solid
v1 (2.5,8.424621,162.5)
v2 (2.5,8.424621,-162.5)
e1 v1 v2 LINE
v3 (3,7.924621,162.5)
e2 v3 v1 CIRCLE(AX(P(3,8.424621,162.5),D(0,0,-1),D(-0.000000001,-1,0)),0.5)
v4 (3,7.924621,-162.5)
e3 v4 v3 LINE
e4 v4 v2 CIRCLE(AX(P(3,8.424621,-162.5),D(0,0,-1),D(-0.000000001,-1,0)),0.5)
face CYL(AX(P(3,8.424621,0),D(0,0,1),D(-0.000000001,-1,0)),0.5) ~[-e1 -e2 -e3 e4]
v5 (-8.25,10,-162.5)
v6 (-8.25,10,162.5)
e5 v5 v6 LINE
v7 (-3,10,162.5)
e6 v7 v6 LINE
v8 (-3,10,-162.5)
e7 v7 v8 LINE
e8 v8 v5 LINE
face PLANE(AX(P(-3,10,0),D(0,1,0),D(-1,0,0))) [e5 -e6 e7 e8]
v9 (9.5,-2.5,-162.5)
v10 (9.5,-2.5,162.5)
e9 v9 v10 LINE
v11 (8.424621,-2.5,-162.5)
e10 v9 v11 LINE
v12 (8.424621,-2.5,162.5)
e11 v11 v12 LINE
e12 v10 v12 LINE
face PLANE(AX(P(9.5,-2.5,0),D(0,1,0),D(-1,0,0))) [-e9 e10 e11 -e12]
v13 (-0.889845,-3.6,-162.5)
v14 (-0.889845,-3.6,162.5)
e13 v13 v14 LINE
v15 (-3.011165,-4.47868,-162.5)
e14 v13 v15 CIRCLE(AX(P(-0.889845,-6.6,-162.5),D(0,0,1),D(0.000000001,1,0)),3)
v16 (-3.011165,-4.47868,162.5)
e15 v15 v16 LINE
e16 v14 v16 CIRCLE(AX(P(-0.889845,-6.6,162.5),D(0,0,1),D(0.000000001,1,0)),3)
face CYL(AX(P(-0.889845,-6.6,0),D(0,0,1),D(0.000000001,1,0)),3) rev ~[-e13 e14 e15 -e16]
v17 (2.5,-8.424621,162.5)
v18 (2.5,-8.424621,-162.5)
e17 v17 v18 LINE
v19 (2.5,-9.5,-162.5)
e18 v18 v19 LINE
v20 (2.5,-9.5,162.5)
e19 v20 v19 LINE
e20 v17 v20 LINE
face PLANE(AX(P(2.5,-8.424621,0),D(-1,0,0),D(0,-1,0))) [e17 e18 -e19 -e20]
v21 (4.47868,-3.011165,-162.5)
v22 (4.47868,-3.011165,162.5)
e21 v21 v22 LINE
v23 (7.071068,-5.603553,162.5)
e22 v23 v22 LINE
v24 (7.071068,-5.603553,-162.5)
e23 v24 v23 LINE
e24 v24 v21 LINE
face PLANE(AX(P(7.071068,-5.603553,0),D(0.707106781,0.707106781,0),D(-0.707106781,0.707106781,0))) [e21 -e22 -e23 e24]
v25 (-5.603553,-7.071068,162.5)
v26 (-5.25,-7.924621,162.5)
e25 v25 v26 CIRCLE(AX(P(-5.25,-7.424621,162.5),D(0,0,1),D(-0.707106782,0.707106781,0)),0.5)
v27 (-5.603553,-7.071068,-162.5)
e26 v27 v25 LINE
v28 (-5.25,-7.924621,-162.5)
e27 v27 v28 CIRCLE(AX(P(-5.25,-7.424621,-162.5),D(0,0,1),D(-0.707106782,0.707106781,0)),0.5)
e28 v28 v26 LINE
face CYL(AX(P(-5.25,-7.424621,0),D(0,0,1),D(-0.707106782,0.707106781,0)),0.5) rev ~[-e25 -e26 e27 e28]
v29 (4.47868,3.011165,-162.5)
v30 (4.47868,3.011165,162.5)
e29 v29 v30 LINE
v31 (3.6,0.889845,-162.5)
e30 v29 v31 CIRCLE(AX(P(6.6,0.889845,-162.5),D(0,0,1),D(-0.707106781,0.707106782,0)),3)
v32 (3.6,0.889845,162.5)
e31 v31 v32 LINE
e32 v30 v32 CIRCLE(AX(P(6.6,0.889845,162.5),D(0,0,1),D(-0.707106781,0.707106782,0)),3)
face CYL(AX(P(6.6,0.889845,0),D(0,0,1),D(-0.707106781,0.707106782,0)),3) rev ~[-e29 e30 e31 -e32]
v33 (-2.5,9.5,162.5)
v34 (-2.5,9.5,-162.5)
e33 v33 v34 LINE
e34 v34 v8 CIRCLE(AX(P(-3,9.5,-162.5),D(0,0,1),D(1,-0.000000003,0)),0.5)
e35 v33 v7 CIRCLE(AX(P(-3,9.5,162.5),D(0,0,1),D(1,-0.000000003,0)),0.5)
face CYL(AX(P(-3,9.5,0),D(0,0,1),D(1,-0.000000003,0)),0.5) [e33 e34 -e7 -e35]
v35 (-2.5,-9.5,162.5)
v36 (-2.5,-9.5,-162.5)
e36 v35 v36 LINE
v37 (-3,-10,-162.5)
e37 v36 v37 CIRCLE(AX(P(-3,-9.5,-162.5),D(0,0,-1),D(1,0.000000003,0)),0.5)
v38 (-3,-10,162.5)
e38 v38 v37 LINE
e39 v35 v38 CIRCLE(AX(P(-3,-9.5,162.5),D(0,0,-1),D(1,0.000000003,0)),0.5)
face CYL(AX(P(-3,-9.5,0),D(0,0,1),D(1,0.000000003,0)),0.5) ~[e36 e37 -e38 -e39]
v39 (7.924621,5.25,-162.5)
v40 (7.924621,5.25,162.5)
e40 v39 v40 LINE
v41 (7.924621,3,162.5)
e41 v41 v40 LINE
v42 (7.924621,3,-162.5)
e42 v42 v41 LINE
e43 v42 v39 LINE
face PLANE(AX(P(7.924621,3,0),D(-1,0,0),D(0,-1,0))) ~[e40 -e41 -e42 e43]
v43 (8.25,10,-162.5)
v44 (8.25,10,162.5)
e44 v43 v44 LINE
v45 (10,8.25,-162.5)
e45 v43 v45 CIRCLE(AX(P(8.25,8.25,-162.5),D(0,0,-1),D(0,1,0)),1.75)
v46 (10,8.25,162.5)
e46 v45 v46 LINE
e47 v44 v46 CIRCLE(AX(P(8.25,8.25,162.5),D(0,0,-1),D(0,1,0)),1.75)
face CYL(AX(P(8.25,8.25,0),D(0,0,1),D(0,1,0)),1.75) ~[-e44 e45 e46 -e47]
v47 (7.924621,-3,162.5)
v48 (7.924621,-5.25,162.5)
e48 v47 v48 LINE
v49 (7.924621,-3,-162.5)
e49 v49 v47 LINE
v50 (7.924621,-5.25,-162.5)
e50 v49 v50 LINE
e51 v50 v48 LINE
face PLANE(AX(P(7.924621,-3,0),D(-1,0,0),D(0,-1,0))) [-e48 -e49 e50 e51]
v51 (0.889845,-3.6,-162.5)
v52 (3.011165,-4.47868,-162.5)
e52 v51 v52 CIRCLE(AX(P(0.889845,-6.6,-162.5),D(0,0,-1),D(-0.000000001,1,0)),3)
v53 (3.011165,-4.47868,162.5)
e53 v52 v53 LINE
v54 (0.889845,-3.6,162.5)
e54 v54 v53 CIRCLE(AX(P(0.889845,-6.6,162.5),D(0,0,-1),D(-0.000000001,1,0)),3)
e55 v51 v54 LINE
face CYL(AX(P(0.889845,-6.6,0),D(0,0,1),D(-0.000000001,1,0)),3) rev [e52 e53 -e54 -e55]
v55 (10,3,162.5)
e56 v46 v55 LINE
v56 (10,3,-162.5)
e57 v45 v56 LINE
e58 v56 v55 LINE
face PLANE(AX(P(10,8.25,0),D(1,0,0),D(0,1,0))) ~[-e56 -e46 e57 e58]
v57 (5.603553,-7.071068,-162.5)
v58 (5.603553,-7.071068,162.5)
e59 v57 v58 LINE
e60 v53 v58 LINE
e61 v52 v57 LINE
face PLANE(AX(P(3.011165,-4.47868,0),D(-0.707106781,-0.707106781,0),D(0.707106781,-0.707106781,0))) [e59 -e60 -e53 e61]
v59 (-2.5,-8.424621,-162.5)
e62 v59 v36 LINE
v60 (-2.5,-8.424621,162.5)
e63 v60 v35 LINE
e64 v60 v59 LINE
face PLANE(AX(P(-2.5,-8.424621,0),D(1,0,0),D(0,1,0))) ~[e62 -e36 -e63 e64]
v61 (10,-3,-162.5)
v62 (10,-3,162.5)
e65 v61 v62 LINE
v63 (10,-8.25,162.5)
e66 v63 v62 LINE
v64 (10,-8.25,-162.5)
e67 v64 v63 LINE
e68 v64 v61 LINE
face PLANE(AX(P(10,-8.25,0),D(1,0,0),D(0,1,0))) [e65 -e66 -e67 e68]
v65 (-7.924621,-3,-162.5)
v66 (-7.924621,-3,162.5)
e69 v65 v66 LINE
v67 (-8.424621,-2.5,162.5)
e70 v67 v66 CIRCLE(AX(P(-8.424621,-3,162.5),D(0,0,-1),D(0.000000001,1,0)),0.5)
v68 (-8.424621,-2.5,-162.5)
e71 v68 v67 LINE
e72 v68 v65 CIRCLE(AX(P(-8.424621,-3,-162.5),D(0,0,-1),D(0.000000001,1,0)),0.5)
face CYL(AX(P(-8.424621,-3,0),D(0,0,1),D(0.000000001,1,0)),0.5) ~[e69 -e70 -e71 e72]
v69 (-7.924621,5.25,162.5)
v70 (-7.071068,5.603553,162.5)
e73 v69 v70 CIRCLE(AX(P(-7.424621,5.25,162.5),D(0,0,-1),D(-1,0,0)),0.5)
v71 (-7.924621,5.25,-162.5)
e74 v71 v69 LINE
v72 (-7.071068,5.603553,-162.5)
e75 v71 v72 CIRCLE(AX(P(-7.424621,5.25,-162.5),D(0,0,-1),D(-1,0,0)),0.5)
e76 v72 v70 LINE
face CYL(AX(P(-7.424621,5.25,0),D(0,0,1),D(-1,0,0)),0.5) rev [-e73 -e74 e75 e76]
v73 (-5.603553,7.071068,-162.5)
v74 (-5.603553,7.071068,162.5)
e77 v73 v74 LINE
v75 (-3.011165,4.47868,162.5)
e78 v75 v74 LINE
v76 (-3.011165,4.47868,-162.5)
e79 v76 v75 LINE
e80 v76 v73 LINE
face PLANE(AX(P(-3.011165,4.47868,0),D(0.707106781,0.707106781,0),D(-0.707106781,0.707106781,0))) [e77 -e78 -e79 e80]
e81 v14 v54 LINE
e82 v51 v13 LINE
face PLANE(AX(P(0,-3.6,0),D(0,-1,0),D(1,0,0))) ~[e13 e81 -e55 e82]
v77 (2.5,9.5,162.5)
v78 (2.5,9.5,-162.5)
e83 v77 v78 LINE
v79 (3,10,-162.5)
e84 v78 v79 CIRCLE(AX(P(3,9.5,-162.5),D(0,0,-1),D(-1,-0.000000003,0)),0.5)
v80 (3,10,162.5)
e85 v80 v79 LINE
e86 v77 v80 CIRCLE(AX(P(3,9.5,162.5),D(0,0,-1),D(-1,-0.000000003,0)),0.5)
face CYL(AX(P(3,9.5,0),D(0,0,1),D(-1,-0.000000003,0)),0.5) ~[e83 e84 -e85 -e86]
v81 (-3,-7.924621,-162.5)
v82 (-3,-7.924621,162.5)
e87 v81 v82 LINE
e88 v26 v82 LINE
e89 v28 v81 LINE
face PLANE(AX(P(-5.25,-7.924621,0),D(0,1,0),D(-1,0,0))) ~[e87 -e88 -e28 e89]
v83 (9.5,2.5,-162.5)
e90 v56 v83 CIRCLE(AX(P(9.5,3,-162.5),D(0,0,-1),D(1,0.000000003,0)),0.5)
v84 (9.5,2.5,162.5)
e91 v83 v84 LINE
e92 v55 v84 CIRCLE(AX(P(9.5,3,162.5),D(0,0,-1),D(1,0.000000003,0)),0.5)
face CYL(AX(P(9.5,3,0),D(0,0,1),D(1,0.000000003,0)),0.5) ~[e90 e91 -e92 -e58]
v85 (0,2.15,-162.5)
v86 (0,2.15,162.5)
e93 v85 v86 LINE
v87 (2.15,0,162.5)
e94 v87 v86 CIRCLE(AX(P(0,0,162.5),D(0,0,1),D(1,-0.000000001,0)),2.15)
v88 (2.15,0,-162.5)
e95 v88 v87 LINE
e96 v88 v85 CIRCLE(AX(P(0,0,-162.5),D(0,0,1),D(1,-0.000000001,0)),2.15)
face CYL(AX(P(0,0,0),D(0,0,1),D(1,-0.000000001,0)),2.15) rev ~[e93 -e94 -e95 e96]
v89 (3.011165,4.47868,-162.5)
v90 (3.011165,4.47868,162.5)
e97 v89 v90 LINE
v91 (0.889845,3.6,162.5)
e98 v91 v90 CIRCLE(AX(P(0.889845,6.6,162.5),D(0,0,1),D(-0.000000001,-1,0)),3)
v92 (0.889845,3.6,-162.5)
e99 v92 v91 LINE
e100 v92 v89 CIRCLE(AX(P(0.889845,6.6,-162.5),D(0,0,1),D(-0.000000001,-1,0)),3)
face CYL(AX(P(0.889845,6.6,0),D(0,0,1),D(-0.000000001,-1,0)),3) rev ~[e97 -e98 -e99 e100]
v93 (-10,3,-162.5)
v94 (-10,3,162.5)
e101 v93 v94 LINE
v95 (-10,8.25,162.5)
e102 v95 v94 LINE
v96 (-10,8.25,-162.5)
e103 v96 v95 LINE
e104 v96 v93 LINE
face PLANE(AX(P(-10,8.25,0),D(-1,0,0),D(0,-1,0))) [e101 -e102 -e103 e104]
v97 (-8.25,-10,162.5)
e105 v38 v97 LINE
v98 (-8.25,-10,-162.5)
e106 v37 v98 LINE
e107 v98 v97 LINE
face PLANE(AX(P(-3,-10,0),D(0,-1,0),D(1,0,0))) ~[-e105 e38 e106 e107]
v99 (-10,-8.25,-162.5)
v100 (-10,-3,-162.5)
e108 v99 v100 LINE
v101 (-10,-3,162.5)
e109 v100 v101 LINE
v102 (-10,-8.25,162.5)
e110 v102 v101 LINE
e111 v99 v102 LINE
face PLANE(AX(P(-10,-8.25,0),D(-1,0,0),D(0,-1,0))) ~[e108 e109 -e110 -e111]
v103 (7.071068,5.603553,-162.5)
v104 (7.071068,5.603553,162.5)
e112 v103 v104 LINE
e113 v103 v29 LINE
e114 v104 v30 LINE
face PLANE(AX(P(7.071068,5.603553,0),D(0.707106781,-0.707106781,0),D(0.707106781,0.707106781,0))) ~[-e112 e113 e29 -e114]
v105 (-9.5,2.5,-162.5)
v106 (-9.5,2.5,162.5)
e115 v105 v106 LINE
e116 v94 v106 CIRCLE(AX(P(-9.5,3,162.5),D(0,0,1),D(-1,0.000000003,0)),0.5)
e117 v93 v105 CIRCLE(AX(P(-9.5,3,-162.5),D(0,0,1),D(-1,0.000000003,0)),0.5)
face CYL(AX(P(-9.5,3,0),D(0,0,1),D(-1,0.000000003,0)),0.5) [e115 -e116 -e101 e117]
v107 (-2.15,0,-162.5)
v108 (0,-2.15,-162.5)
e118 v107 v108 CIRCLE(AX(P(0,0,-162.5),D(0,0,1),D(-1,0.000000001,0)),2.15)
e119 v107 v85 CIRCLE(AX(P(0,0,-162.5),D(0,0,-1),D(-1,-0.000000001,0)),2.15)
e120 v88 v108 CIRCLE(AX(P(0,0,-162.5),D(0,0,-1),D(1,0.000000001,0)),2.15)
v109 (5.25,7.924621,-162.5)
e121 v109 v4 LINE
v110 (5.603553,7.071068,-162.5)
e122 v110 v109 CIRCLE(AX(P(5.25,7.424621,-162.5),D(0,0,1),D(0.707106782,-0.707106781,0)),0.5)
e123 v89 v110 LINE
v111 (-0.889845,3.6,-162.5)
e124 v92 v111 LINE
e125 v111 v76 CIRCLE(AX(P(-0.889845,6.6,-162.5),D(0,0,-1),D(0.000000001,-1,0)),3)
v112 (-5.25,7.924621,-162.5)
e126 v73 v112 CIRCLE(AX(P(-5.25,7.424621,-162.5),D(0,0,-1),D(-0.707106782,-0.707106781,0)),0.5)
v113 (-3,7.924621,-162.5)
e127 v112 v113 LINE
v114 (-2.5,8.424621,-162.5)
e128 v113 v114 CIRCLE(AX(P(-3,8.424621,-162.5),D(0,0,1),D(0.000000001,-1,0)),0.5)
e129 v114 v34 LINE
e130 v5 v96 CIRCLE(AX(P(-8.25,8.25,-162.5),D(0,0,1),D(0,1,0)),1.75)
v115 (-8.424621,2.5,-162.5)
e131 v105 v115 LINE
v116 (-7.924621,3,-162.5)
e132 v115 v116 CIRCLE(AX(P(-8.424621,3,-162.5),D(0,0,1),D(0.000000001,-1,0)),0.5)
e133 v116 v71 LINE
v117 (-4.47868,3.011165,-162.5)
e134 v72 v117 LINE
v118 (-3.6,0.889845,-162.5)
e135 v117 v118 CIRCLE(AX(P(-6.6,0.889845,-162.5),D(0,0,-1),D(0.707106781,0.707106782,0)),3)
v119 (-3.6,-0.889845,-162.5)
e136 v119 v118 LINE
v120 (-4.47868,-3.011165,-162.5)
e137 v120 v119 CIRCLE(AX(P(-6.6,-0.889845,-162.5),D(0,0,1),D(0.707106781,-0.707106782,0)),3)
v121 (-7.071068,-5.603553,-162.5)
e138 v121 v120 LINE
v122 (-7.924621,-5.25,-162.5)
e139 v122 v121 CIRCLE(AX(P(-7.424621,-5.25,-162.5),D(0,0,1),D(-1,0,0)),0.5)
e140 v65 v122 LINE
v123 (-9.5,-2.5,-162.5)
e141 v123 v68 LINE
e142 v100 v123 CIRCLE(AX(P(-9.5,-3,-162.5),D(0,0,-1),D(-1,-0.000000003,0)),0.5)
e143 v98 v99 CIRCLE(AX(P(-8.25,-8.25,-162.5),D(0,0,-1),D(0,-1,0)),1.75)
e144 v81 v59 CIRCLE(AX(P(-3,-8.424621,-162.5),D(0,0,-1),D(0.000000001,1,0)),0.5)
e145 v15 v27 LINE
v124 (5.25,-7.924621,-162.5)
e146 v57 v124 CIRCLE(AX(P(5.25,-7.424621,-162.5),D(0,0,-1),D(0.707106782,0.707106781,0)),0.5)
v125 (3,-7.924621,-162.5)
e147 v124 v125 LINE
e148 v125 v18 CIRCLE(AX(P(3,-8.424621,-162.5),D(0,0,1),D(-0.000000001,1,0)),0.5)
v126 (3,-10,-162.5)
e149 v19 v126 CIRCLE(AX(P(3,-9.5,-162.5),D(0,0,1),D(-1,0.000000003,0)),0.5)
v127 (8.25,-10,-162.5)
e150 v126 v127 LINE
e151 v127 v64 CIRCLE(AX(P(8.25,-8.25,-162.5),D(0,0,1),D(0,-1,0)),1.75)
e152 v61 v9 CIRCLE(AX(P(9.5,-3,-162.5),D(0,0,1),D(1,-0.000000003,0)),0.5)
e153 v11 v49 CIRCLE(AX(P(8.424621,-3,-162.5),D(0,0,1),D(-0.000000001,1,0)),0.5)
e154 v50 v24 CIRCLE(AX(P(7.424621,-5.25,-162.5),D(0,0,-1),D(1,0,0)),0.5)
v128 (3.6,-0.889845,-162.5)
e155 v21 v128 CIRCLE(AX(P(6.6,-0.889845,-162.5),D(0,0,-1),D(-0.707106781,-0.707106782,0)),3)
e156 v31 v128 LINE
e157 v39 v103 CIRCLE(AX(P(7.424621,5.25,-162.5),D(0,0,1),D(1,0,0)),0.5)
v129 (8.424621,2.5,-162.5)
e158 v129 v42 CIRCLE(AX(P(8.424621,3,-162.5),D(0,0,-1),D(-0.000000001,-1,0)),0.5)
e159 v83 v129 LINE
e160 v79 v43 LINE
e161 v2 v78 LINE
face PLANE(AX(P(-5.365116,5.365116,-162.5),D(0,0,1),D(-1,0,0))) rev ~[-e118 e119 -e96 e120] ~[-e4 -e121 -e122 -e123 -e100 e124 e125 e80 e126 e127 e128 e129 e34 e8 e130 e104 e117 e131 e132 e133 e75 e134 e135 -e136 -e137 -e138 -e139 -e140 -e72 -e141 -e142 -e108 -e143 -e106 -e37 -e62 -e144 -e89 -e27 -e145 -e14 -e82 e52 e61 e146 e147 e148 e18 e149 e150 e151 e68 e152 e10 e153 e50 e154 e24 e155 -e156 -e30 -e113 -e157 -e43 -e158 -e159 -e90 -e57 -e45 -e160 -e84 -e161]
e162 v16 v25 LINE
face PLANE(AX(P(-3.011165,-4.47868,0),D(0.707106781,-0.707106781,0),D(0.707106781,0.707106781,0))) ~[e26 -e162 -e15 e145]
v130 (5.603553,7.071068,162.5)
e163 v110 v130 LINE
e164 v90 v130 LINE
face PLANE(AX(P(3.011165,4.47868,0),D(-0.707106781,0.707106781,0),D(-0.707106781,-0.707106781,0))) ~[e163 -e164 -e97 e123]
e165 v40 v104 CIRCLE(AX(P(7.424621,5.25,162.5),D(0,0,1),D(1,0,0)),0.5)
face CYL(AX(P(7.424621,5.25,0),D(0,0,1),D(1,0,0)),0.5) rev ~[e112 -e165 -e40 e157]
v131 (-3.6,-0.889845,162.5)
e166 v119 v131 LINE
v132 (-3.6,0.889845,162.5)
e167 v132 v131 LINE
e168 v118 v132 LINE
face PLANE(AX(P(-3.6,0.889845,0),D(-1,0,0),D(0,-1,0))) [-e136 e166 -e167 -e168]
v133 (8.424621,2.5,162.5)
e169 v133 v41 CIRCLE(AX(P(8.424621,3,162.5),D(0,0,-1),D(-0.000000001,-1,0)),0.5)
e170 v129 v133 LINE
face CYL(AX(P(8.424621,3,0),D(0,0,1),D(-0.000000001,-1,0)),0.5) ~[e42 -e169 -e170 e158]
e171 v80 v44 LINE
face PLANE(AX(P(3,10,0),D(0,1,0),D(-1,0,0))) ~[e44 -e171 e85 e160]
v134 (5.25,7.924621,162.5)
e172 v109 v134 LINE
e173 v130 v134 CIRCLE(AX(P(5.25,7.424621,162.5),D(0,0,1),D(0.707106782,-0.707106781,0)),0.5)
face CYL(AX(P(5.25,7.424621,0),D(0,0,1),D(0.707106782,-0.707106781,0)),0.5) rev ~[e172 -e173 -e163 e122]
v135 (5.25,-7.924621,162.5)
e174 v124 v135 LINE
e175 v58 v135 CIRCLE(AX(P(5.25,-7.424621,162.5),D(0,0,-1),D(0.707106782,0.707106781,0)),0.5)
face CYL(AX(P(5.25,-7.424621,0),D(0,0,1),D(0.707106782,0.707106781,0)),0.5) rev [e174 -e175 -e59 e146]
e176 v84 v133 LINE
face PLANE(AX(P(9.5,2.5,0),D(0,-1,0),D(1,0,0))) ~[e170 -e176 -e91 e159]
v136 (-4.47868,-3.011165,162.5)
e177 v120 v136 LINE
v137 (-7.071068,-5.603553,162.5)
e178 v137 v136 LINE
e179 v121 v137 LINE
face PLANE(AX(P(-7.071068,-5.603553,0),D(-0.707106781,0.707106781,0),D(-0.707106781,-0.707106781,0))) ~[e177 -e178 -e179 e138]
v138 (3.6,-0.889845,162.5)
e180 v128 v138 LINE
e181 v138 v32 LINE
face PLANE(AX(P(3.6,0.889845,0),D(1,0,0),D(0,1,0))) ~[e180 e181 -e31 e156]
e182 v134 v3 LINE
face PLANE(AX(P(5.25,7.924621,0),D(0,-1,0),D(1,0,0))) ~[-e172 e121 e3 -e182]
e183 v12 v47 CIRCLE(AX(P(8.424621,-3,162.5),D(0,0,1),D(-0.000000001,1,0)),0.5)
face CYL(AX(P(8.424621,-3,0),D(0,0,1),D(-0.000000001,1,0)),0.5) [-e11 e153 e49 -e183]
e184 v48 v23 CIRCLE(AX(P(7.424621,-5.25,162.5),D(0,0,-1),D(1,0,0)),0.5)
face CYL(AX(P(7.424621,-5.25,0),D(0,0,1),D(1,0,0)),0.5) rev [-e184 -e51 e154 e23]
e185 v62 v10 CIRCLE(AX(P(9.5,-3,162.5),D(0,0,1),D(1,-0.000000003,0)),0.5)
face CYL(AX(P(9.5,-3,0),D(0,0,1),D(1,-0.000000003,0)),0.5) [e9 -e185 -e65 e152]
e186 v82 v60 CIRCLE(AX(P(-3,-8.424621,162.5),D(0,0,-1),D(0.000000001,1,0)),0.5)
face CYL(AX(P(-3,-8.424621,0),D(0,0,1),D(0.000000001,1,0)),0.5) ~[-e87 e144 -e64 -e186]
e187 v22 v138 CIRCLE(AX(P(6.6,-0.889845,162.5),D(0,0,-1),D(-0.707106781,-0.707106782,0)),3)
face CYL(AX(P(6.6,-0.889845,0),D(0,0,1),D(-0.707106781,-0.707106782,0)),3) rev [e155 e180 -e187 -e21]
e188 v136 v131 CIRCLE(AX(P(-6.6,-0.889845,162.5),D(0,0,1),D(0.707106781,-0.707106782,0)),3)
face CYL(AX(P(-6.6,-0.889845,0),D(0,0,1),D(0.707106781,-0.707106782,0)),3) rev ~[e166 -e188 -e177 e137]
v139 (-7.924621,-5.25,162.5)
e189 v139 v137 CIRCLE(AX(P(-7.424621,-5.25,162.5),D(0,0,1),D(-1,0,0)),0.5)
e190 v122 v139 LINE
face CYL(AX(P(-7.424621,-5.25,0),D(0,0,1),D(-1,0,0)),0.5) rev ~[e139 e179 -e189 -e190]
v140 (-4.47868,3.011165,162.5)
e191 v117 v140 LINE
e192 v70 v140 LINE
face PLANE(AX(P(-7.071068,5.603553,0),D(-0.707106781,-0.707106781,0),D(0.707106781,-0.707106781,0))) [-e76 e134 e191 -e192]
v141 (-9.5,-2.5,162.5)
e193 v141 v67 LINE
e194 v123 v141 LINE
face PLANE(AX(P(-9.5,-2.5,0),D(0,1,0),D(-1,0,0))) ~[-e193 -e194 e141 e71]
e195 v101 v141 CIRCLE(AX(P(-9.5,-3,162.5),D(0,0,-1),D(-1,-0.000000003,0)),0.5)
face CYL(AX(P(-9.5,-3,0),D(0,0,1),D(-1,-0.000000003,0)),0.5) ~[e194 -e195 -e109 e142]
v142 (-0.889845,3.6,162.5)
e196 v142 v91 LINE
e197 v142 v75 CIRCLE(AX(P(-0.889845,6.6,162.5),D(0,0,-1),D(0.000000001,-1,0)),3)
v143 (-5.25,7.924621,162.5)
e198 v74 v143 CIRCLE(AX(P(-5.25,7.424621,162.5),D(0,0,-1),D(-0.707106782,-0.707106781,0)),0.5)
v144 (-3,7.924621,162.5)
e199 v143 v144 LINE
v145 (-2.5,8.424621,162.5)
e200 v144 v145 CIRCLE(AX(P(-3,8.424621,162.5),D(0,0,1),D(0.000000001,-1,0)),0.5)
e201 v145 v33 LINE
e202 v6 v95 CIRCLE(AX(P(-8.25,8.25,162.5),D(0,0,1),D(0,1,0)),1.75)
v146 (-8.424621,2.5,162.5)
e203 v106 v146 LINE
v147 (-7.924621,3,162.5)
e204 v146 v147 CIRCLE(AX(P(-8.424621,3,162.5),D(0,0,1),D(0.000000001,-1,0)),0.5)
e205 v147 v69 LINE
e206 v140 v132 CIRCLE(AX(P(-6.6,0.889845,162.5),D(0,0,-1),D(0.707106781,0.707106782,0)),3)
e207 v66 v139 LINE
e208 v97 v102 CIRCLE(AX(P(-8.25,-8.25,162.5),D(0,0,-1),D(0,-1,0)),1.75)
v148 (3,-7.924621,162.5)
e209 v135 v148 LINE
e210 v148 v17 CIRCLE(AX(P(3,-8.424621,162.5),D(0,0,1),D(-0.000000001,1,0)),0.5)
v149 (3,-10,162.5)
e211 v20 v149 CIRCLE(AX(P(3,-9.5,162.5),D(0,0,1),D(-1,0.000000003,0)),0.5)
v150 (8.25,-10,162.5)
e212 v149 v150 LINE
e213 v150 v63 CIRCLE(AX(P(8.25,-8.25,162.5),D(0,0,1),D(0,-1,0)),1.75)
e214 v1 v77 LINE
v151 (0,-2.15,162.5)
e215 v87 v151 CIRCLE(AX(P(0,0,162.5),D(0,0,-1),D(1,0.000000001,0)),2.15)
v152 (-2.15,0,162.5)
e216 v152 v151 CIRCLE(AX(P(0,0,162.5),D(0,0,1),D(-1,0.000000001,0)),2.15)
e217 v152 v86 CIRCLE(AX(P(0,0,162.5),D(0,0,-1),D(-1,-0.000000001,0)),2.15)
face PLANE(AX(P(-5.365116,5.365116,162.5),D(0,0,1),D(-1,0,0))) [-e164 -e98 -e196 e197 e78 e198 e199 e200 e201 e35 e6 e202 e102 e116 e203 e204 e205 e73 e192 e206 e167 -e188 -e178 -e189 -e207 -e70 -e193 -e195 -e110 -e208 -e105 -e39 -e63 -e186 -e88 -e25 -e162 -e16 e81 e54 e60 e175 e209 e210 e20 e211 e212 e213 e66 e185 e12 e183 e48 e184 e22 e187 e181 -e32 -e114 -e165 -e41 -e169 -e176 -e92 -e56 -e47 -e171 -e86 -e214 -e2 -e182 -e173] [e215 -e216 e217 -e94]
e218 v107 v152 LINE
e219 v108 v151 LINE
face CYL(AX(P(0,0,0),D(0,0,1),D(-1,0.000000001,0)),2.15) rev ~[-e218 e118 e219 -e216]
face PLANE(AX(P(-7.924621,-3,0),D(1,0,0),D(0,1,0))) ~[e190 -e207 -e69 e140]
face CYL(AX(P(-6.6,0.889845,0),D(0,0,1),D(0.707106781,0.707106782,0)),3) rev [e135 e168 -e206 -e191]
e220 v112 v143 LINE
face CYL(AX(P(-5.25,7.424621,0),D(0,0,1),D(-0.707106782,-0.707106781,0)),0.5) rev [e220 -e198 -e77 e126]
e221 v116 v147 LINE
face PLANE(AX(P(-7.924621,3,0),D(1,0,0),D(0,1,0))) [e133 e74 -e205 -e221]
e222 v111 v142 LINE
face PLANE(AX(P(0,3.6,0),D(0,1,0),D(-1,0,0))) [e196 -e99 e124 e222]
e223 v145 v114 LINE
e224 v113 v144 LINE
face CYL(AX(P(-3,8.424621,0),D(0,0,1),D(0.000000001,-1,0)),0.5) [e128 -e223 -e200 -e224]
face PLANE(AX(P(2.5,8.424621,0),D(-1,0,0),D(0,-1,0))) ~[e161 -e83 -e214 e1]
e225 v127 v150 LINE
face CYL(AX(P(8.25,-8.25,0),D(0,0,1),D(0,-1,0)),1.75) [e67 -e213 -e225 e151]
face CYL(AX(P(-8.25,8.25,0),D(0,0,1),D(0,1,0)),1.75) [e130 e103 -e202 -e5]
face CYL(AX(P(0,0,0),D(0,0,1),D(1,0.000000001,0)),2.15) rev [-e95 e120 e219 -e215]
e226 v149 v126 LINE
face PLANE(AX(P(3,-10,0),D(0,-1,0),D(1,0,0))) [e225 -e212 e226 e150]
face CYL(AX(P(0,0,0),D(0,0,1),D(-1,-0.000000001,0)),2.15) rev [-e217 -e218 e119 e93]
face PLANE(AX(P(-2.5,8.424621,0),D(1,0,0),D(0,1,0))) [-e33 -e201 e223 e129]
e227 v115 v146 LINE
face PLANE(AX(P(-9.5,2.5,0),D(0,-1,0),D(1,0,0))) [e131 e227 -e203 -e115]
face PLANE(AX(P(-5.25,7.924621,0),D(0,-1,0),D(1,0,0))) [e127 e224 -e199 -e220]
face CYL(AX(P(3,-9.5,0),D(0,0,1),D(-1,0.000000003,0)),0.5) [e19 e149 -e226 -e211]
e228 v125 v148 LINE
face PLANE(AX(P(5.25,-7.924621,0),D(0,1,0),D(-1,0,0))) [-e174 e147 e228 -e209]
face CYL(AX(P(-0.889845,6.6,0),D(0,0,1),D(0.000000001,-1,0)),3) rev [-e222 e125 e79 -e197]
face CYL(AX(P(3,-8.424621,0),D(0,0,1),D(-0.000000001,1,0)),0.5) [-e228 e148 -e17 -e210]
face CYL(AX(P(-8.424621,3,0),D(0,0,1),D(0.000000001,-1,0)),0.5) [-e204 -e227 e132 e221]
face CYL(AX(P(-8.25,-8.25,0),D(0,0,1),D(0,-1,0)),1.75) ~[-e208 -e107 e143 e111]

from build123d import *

# Parameters (mm, degrees)
BOSS_EXTRUDE1_DEPTH = 162.5


with BuildPart() as part:
    # Sketch4 → Boss-Extrude1 (new body, symmetric)
    with BuildSketch(Plane.XY):
        with BuildLine():
            Line((3, -10), (8.25, -10))
            ThreePointArc((8.25, -10), (9.487436867, -9.487436867), (10, -8.25))
            Line((10, -8.25), (10, -3))
            ThreePointArc((10, -3), (9.853553391, -2.646446609), (9.5, -2.5))
            Line((9.5, -2.5), (8.424621202, -2.5))
            ThreePointArc((8.424621202, -2.5), (8.071067812, -2.646446609), (7.924621202, -3))
            Line((7.924621202, -3), (7.924621202, -5.25))
            ThreePointArc((7.924621202, -5.25), (7.615962919, -5.711939766), (7.071067812, -5.603553391))
            Line((7.071067812, -5.603553391), (4.478679656, -3.011165235))
            ThreePointArc((4.478679656, -3.011165235), (3.828361402, -2.037895189), (3.6, -0.889844892))
            Line((3.6, -0.889844892), (3.6, 0))
            Line((3.6, 0), (2.15, 0))
            ThreePointArc((2.15, 0), (1.52027958, -1.52027958), (0, -2.15))
            Line((0, -2.15), (0, -3.6))
            Line((0, -3.6), (0.889844892, -3.6))
            ThreePointArc((0.889844892, -3.6), (2.037895189, -3.828361402), (3.011165235, -4.478679656))
            Line((3.011165235, -4.478679656), (5.603553391, -7.071067812))
            ThreePointArc((5.603553391, -7.071067812), (5.711939766, -7.615962919), (5.25, -7.924621202))
            Line((5.25, -7.924621202), (3, -7.924621202))
            ThreePointArc((3, -7.924621202), (2.646446609, -8.071067812), (2.5, -8.424621202))
            Line((2.5, -8.424621202), (2.5, -9.5))
            ThreePointArc((2.5, -9.5), (2.646446609, -9.853553391), (3, -10))
        make_face()
    extrude(amount=BOSS_EXTRUDE1_DEPTH, both=True)

    # Mirror1: part across plane


with BuildPart() as part_1:
    add(part.part)
    add(part.part.mirror(Plane(origin=(0, 0, 0), x_dir=(0, 0, 1), z_dir=(1, 0, 0))))

    # Mirror2: part across plane


with BuildPart() as part_2:
    add(part_1.part)
    add(part_1.part.mirror(Plane.ZX))


solid = part_2.part
